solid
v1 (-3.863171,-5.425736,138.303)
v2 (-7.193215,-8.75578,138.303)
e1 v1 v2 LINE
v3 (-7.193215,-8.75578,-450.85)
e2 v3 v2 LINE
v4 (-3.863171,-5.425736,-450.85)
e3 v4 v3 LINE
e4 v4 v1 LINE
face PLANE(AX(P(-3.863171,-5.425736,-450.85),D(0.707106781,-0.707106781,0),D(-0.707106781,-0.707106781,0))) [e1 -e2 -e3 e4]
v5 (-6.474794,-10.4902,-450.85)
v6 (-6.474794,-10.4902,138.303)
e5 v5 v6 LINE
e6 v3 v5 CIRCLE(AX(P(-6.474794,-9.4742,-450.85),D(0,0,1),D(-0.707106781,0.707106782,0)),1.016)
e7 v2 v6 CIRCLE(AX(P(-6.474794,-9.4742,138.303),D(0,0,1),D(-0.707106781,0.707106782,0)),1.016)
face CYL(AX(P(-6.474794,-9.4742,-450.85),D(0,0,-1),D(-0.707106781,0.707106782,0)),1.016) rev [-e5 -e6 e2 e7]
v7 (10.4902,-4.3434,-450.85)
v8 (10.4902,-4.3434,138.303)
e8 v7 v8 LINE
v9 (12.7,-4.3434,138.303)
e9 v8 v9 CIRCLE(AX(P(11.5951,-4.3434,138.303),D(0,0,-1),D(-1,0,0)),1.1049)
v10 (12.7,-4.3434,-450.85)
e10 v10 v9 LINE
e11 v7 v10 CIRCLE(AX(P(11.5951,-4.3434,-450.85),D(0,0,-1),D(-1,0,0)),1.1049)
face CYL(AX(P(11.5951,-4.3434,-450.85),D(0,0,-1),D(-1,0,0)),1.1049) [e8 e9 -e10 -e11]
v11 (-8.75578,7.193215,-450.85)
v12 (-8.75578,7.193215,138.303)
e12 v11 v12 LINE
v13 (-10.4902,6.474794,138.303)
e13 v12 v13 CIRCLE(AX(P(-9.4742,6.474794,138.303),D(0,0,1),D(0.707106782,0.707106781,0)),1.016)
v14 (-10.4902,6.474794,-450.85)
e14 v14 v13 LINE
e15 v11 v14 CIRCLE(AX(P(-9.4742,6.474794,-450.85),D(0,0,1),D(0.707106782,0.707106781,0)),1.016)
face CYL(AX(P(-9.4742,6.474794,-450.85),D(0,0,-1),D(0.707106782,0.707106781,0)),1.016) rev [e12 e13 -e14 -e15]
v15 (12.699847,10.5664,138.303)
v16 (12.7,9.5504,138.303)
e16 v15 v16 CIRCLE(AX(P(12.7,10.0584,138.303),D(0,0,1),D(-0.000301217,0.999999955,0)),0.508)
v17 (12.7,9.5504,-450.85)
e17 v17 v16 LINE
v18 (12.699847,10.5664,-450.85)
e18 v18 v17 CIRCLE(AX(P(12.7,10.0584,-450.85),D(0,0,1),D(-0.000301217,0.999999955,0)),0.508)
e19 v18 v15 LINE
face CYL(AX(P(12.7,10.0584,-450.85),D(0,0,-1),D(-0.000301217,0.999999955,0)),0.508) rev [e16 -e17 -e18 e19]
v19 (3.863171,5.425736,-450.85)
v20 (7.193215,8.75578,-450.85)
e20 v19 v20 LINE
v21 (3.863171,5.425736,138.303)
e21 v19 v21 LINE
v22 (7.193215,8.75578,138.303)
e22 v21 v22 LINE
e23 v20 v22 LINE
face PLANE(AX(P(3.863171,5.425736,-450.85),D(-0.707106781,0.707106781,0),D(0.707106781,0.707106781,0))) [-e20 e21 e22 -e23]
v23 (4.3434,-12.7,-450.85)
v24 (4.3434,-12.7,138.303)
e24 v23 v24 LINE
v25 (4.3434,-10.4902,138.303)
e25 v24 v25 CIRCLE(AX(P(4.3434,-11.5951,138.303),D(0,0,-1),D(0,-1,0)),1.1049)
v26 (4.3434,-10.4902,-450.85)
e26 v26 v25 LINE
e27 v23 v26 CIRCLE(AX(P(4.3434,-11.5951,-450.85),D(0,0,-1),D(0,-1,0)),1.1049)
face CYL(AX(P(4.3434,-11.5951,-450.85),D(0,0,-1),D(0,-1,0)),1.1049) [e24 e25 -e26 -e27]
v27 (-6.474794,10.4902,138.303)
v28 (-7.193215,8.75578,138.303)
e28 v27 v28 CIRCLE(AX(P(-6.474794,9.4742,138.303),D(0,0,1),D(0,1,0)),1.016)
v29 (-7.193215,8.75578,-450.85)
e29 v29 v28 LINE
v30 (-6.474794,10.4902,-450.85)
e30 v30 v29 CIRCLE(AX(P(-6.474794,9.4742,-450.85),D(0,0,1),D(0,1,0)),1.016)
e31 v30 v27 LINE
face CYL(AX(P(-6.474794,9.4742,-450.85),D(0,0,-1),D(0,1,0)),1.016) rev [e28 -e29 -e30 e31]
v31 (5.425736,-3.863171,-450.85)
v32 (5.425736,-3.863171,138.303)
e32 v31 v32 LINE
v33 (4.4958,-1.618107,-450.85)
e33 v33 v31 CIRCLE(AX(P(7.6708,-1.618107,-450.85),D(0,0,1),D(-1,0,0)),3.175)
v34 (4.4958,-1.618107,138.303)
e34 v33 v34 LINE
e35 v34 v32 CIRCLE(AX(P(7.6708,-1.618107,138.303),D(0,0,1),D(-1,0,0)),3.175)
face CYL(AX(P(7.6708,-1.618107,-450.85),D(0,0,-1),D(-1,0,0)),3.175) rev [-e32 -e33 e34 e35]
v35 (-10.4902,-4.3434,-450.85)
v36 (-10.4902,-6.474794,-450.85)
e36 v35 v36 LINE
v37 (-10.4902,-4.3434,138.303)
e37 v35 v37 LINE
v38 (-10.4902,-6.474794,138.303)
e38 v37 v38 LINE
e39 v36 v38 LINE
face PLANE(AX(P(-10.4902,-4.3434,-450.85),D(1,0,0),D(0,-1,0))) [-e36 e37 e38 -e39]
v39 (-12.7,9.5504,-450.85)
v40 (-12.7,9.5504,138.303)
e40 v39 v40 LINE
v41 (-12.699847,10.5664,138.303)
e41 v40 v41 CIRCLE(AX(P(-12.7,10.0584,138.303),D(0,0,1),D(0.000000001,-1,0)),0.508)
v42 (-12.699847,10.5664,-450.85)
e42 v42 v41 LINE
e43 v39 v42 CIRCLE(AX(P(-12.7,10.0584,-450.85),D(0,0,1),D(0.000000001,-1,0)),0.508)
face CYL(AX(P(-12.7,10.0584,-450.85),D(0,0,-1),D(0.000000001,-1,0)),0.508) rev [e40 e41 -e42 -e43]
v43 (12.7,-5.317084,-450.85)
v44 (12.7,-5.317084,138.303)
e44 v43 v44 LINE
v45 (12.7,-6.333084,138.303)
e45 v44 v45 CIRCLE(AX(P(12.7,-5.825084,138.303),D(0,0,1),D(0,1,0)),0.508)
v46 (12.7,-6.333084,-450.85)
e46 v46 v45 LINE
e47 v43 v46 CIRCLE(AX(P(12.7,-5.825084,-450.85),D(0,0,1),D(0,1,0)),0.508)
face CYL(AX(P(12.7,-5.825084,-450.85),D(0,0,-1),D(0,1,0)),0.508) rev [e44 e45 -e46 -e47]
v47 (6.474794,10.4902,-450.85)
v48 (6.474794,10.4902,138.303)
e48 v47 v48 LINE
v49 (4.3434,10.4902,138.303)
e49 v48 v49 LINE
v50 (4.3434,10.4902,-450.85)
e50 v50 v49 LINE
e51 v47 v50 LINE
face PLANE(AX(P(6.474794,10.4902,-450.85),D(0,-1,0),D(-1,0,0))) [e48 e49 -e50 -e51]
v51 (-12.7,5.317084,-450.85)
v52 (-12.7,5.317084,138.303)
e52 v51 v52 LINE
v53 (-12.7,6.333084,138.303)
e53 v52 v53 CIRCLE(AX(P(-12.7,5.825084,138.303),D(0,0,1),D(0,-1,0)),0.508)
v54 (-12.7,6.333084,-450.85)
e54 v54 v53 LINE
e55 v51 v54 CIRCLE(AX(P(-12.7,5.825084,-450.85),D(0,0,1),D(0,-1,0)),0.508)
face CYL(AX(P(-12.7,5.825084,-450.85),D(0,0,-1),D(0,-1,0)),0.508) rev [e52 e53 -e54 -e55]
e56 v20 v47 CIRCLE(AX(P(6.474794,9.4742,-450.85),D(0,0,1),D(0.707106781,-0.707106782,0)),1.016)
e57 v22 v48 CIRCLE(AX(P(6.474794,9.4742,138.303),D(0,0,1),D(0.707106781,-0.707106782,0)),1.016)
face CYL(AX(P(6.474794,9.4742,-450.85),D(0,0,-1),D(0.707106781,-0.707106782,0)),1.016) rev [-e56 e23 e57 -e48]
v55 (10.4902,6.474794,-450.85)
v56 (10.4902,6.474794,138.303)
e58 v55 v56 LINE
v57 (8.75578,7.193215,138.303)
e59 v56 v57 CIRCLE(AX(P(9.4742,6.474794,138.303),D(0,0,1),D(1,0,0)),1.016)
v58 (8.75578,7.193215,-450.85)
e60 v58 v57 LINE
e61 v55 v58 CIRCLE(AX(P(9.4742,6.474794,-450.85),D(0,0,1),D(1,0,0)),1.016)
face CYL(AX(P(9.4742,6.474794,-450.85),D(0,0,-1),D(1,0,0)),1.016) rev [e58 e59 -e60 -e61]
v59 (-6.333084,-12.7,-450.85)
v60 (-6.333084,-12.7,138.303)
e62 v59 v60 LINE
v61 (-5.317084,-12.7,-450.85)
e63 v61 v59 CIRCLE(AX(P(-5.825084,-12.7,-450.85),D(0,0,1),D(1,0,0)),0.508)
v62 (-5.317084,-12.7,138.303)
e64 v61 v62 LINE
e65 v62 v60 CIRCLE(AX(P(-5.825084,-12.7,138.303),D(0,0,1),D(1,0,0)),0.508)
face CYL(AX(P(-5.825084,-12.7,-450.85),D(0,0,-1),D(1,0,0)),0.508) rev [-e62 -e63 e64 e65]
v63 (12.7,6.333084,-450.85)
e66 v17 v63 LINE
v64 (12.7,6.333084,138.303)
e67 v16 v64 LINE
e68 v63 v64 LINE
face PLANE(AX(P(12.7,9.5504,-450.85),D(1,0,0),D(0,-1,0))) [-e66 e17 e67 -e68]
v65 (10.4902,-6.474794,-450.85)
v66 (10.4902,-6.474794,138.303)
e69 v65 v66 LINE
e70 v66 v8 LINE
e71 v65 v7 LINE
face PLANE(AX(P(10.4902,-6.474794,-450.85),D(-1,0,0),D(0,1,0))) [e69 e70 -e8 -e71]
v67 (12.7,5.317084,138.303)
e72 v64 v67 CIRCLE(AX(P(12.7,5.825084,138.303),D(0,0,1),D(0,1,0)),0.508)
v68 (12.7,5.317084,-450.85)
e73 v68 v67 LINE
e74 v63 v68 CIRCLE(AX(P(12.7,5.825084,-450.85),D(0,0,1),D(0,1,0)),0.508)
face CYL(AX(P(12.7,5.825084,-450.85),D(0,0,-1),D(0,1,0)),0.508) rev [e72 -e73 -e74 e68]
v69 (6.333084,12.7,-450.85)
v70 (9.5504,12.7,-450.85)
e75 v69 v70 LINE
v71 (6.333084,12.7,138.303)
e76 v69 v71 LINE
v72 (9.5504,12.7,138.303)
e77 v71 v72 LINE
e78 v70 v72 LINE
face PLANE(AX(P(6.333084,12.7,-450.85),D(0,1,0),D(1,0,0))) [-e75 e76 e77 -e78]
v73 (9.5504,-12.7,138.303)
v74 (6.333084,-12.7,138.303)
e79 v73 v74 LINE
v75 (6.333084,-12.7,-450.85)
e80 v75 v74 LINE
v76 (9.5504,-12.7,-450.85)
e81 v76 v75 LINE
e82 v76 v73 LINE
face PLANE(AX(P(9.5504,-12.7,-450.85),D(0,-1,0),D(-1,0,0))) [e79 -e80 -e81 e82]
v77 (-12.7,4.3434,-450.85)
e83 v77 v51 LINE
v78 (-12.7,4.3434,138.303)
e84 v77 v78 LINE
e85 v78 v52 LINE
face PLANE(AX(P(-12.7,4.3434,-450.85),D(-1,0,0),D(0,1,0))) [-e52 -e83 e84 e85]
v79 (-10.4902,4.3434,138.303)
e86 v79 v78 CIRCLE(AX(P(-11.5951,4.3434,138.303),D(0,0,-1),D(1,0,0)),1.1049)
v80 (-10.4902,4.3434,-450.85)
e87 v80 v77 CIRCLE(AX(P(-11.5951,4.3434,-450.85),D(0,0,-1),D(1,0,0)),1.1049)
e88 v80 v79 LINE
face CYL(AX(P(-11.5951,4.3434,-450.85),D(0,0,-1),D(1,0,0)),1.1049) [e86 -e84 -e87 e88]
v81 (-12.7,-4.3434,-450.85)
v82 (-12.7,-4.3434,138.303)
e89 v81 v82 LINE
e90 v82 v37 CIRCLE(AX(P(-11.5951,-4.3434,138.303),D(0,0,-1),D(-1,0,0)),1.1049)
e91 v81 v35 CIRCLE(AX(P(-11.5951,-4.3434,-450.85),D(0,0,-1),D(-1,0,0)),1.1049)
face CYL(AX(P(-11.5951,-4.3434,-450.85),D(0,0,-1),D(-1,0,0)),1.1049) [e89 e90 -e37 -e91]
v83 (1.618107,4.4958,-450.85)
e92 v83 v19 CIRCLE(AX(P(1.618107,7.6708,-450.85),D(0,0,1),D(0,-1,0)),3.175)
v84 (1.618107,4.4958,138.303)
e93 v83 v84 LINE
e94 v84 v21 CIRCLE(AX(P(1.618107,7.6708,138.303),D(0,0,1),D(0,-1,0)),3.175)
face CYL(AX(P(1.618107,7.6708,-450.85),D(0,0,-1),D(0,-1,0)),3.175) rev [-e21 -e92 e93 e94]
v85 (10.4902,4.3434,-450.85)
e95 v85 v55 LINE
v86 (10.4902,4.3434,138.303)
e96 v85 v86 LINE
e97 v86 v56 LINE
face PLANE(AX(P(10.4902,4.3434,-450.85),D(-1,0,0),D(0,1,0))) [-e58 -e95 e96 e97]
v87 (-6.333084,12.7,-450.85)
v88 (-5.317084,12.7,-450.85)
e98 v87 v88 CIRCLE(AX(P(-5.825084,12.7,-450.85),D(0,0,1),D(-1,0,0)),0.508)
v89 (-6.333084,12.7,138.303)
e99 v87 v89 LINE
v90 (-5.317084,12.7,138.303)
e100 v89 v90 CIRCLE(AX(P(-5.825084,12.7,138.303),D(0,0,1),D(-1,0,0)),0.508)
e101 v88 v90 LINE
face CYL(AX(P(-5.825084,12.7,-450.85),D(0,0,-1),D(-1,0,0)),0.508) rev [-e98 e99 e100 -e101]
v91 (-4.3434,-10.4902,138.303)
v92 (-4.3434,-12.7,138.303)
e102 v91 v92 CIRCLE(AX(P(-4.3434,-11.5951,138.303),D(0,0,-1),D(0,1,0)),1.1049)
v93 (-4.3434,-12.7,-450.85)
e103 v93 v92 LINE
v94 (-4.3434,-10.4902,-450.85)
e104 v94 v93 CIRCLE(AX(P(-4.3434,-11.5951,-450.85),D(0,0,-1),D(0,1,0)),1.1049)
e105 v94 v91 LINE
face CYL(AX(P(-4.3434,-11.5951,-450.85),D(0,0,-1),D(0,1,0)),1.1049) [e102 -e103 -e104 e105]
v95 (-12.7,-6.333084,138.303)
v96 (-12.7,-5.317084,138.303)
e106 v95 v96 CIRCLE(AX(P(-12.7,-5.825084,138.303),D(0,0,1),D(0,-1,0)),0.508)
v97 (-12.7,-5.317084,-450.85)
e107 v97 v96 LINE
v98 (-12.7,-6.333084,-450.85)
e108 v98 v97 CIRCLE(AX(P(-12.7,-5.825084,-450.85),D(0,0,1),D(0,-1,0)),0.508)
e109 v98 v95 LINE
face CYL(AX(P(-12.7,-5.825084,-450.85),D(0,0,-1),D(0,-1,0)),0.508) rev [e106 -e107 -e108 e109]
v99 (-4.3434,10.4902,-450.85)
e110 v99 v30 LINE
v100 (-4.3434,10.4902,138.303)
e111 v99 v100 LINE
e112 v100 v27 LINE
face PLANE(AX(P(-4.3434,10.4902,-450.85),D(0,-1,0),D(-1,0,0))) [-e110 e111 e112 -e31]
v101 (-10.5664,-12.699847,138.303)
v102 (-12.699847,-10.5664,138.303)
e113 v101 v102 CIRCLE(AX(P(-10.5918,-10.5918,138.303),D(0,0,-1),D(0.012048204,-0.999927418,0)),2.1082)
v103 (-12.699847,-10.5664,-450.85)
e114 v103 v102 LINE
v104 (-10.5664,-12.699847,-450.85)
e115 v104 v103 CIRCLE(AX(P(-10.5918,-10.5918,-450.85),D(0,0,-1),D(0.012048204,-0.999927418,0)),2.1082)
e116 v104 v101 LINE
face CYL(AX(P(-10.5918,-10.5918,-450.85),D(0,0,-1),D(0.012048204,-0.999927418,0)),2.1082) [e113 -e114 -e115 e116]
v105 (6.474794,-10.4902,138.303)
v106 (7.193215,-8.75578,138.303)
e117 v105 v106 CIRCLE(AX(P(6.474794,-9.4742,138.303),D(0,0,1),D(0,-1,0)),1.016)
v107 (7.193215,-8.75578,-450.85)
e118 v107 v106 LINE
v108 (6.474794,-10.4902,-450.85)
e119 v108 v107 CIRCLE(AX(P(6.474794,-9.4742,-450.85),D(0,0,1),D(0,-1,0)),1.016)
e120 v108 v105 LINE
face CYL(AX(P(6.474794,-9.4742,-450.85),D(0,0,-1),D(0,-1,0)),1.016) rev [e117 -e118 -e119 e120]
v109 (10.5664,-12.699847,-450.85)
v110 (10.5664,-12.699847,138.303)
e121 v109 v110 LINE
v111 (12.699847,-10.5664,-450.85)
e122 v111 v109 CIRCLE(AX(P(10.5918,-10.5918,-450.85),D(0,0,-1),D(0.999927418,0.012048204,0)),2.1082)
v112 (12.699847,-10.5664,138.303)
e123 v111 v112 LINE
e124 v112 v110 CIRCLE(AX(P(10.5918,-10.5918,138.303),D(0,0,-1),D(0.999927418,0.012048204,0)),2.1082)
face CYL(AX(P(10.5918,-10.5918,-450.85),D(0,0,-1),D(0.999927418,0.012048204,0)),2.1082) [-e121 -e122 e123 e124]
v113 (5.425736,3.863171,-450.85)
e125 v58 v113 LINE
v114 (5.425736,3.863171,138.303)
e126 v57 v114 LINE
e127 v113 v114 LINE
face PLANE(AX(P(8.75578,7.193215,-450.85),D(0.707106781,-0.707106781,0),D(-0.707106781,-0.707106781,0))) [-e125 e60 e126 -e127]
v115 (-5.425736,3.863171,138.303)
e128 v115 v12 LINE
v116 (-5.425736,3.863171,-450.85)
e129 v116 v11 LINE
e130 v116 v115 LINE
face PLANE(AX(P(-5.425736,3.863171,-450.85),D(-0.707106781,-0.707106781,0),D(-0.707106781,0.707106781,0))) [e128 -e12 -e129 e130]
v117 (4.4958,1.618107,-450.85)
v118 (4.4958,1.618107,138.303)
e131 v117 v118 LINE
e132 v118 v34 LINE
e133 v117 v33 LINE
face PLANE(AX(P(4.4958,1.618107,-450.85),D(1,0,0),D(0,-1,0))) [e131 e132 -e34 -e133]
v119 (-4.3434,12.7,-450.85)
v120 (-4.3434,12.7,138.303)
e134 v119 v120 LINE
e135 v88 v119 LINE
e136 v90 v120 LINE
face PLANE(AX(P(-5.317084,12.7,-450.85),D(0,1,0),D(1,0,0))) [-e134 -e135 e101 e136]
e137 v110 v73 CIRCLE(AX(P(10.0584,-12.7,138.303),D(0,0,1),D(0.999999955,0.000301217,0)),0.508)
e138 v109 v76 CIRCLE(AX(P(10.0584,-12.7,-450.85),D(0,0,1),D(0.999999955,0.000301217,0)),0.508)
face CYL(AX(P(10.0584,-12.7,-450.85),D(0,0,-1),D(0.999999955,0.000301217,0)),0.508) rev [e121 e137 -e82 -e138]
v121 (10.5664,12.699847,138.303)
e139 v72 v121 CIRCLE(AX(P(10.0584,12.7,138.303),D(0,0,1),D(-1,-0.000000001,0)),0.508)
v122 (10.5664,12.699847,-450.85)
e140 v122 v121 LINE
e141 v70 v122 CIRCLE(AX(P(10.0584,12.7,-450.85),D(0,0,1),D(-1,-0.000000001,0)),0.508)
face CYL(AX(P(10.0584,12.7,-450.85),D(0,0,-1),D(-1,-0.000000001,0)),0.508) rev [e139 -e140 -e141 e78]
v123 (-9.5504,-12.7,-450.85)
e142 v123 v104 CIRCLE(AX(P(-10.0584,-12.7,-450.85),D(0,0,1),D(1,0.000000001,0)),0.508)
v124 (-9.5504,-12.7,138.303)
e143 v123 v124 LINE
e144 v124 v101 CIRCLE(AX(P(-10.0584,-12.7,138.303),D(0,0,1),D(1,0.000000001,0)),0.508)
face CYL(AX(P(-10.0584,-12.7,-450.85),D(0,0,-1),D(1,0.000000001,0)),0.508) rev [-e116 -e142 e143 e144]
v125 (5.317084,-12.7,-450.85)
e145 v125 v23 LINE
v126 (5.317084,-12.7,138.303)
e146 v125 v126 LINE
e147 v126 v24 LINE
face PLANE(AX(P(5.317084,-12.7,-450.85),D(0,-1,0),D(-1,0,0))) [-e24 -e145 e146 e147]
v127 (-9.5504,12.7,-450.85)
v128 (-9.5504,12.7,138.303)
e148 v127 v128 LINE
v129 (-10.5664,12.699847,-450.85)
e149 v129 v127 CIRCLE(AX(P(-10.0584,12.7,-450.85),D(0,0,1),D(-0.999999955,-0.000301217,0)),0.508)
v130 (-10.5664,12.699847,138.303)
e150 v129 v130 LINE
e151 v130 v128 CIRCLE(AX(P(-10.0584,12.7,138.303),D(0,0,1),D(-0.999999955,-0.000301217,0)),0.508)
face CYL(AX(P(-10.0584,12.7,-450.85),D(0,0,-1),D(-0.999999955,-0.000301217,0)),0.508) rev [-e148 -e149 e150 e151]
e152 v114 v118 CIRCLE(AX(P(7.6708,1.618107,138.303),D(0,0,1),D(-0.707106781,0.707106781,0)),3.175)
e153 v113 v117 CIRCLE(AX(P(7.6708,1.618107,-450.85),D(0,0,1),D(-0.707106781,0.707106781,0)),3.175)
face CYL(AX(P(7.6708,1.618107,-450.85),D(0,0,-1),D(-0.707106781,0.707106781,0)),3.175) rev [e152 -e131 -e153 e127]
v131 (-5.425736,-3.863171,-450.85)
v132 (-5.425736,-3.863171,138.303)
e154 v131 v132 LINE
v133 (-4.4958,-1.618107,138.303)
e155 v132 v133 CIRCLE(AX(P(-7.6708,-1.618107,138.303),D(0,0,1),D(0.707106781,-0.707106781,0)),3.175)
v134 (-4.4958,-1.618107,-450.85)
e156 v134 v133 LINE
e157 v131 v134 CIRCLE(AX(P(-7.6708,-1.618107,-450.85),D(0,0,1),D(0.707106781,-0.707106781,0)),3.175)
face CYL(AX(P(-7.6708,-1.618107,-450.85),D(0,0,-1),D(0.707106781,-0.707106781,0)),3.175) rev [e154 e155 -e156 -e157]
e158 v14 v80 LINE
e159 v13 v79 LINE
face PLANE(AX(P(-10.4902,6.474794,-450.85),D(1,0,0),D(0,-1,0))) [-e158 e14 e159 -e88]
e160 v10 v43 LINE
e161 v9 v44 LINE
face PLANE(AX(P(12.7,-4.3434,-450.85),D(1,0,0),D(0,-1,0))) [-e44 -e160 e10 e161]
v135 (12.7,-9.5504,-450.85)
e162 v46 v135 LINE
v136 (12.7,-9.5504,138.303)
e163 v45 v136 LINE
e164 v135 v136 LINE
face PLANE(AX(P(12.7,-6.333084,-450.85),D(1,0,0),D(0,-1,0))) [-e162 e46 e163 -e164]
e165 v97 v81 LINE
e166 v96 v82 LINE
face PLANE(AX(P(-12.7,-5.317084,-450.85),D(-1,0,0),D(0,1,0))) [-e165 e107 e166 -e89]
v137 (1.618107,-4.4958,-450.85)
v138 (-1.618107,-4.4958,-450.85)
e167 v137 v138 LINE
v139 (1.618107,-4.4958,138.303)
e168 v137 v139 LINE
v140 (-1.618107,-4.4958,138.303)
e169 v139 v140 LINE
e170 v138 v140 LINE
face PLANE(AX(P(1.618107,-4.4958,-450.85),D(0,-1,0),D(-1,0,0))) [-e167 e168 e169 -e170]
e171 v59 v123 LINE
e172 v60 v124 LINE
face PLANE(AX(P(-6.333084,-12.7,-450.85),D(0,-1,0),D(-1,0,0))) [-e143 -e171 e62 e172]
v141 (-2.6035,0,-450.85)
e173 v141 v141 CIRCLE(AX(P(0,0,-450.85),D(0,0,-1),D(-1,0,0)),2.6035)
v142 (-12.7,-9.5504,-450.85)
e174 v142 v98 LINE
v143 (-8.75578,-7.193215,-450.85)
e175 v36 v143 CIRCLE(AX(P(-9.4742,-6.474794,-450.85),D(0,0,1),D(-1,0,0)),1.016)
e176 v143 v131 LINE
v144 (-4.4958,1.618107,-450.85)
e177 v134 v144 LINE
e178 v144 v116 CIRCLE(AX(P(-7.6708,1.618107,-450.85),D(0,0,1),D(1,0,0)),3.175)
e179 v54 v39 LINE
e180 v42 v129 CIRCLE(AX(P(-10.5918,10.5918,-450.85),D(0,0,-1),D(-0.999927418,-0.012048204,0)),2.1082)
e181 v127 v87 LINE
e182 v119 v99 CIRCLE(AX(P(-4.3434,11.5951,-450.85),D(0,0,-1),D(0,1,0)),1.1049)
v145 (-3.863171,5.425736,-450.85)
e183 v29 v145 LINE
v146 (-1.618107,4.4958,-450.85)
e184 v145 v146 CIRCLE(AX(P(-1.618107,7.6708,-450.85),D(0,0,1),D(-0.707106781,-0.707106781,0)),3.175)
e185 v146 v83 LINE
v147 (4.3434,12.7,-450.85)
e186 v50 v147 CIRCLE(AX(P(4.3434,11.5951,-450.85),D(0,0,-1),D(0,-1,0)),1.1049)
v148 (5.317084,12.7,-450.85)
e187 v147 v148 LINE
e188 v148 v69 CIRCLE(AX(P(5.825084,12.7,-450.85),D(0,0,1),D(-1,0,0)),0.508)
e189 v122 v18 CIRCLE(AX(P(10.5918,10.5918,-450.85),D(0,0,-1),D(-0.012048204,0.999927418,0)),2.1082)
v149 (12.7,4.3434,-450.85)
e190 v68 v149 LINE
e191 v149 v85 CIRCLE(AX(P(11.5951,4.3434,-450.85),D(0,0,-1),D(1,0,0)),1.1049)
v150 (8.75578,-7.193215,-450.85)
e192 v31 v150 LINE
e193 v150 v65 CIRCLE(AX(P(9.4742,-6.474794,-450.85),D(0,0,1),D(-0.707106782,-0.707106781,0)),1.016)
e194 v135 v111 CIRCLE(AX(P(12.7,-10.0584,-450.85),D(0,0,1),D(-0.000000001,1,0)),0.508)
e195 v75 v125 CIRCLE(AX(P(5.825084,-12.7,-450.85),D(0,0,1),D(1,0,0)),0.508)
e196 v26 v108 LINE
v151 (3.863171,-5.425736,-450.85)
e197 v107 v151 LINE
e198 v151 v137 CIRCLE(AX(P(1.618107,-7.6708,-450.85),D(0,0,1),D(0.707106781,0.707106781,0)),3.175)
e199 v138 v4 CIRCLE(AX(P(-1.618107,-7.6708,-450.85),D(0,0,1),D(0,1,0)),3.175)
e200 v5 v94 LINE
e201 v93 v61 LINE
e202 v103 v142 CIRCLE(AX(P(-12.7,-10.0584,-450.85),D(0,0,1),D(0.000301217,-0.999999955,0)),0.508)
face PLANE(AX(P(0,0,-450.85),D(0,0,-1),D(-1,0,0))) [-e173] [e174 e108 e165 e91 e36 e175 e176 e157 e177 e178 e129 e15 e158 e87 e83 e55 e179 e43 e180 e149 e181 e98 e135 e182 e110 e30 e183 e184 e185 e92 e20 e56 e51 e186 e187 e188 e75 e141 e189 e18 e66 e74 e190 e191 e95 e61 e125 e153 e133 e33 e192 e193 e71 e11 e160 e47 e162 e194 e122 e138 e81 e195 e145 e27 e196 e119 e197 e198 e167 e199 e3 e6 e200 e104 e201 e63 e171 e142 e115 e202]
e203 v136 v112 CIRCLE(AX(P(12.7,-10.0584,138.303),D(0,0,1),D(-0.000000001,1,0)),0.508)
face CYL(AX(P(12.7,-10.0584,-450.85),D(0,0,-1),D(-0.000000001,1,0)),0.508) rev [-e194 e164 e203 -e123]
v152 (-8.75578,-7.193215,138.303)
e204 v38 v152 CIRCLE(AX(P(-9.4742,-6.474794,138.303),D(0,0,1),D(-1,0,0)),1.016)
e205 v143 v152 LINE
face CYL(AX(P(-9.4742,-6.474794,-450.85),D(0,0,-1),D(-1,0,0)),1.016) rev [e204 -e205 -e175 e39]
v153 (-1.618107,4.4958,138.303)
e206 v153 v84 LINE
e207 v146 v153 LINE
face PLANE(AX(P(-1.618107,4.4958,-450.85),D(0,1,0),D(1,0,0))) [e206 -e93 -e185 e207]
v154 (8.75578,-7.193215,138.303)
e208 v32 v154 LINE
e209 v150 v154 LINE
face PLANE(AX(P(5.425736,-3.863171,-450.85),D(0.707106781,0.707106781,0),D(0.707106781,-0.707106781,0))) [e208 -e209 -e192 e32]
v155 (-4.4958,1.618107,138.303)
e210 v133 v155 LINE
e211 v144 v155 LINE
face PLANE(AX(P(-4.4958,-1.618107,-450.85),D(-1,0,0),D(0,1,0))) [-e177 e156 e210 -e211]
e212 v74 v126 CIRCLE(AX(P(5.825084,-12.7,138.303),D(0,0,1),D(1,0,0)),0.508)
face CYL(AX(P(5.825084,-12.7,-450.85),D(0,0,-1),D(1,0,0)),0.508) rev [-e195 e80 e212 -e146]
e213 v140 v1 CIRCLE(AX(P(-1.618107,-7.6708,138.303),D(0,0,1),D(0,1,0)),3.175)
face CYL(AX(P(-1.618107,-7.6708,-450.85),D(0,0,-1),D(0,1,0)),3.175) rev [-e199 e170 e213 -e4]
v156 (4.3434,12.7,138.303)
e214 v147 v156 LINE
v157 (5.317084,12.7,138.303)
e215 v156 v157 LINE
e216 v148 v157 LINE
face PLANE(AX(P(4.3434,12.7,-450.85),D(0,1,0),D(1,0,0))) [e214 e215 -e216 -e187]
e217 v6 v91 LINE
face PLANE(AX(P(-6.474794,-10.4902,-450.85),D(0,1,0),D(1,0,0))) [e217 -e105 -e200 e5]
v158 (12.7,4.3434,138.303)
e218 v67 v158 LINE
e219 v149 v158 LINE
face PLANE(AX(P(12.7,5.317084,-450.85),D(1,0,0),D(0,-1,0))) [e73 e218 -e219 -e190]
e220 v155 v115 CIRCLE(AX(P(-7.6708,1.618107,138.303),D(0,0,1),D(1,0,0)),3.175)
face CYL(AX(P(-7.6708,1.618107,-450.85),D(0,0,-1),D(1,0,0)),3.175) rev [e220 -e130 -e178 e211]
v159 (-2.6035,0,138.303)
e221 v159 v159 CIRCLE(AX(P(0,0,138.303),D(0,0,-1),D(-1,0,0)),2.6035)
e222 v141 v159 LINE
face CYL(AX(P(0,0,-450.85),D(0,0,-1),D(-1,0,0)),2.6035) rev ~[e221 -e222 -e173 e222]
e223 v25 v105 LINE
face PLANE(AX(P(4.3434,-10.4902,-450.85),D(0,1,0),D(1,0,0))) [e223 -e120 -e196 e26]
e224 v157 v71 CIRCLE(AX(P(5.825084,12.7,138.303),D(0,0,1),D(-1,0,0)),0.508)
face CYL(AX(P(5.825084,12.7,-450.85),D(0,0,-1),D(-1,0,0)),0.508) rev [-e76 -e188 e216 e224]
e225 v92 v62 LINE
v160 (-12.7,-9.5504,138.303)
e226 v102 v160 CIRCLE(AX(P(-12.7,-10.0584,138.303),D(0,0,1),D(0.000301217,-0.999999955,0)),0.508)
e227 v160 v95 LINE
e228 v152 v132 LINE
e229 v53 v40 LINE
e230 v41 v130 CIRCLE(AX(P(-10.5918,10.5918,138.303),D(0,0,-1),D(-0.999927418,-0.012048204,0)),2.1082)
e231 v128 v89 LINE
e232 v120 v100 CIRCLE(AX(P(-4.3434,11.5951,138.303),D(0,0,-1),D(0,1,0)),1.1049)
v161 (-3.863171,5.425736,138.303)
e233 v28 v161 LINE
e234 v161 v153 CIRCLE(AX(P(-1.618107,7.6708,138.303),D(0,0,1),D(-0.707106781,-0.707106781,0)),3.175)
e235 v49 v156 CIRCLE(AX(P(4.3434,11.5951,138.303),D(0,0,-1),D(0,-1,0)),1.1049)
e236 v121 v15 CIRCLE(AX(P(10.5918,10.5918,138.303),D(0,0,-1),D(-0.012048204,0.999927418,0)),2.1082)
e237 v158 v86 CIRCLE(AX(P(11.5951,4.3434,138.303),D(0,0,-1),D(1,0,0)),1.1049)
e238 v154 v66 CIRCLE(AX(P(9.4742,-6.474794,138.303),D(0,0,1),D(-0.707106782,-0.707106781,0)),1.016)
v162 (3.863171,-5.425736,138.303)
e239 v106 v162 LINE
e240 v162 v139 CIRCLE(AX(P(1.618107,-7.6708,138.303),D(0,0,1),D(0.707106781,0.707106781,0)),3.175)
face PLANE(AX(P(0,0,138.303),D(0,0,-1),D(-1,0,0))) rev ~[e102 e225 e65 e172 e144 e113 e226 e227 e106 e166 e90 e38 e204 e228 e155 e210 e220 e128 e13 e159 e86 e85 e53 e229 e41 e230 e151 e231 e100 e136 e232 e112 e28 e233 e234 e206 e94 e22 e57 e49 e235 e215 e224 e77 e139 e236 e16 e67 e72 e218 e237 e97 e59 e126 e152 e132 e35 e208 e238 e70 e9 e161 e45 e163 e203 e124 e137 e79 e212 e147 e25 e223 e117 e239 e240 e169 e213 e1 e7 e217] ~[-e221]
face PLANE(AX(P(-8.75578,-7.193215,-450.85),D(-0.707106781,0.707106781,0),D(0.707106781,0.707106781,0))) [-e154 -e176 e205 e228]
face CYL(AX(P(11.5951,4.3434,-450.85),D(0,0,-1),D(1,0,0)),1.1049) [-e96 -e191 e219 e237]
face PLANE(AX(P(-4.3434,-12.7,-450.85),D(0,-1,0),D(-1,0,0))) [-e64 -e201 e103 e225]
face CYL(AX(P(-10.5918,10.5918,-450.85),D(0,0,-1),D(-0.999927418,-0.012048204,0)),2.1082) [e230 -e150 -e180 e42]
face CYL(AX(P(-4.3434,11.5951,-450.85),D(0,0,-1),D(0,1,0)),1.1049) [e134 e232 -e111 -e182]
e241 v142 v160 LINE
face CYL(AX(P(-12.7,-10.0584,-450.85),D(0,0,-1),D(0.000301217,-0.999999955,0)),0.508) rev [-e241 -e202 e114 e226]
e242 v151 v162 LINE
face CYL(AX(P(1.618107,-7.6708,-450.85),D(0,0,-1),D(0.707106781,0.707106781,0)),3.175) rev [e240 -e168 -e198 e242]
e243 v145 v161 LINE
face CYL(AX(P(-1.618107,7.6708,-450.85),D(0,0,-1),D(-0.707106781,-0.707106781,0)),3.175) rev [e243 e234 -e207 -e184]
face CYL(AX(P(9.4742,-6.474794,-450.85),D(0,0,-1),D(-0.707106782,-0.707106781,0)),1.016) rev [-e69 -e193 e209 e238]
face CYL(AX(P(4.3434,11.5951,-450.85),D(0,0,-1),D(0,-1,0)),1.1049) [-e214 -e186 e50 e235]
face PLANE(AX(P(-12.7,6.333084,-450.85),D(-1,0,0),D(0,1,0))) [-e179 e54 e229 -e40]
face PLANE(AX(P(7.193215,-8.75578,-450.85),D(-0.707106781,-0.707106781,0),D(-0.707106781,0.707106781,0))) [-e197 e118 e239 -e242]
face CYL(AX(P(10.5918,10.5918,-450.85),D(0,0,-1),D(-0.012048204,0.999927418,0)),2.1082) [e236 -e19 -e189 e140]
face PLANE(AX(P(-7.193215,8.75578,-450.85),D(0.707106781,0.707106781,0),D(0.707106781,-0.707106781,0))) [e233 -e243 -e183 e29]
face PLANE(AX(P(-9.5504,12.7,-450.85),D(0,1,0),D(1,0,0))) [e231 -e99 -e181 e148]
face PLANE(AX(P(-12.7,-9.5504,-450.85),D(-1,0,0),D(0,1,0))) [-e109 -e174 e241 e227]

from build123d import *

# Parameters (mm, degrees)
SKETCH1_R           = 2.6035
BOSS_EXTRUDE1_DEPTH = 589.153


with BuildPart() as part:
    # Sketch1 → Boss-Extrude1 (new body)
    with BuildSketch(Plane(origin=(0, 0, -450.85), x_dir=(-1, 0, 0), z_dir=(0, 0, -1))):
        with BuildLine():
            Line((12.7, -9.5504), (12.7, -6.3330836))
            ThreePointArc((12.7, -6.3330836), (12.192, -5.8250836), (12.7, -5.3170836))
            Line((12.7, -5.3170836), (12.7, -4.3434))
            ThreePointArc((12.7, -4.3434), (11.5951, -3.2385), (10.4902, -4.3434))
            Line((10.4902, -4.3434), (10.4902, -6.474794456))
            ThreePointArc((10.4902, -6.474794456), (9.863006367, -7.413456061), (8.75577951, -7.193214945))
            Line((8.75577951, -7.193214945), (5.42573597, -3.863171405))
            ThreePointArc((5.42573597, -3.863171405), (4.737482484, -2.833127272), (4.4958, -1.618107374))
            Line((4.4958, -1.618107374), (4.4958, 1.618107374))
            ThreePointArc((4.4958, 1.618107374), (4.737482484, 2.833127272), (5.42573597, 3.863171405))
            Line((5.42573597, 3.863171405), (8.75577951, 7.193214945))
            ThreePointArc((8.75577951, 7.193214945), (9.863006367, 7.413456061), (10.4902, 6.474794456))
            Line((10.4902, 6.474794456), (10.4902, 4.343399971))
            ThreePointArc((10.4902, 4.343399971), (11.5951, 3.238499971), (12.7, 4.343399971))
            Line((12.7, 4.343399971), (12.7, 5.3170836))
            ThreePointArc((12.7, 5.3170836), (12.192, 5.8250836), (12.7, 6.3330836))
            Line((12.7, 6.3330836), (12.7, 9.5504))
            ThreePointArc((12.7, 9.5504), (12.192000006, 10.058323491), (12.699846982, 10.566399977))
            ThreePointArc((12.699846982, 10.566399977), (12.082522516, 12.082522516), (10.566399977, 12.699846982))
            ThreePointArc((10.566399977, 12.699846982), (10.058323491, 12.192000006), (9.5504, 12.7))
            Line((9.5504, 12.7), (6.3330836, 12.7))
            ThreePointArc((6.3330836, 12.7), (5.8250836, 12.192), (5.3170836, 12.7))
            Line((5.3170836, 12.7), (4.3434, 12.7))
            ThreePointArc((4.3434, 12.7), (3.2385, 11.5951), (4.3434, 10.4902))
            Line((4.3434, 10.4902), (6.474794456, 10.4902))
            ThreePointArc((6.474794456, 10.4902), (7.413456061, 9.863006367), (7.193214945, 8.75577951))
            Line((7.193214945, 8.75577951), (3.863171405, 5.42573597))
            ThreePointArc((3.863171405, 5.42573597), (2.833127272, 4.737482484), (1.618107374, 4.4958))
            Line((1.618107374, 4.4958), (-1.618107374, 4.4958))
            ThreePointArc((-1.618107374, 4.4958), (-2.833127272, 4.737482484), (-3.863171405, 5.42573597))
            Line((-3.863171405, 5.42573597), (-7.193214945, 8.75577951))
            ThreePointArc((-7.193214945, 8.75577951), (-7.413456061, 9.863006367), (-6.474794456, 10.4902))
            Line((-6.474794456, 10.4902), (-4.343399971, 10.4902))
            ThreePointArc((-4.343399971, 10.4902), (-3.238499971, 11.5951), (-4.343399971, 12.7))
            Line((-4.343399971, 12.7), (-5.3170836, 12.7))
            ThreePointArc((-5.3170836, 12.7), (-5.8250836, 12.192), (-6.3330836, 12.7))
            Line((-6.3330836, 12.7), (-9.5504, 12.7))
            ThreePointArc((-9.5504, 12.7), (-10.058323491, 12.192000006), (-10.566399977, 12.699846982))
            ThreePointArc((-10.566399977, 12.699846982), (-12.082522516, 12.082522516), (-12.699846982, 10.566399977))
            ThreePointArc((-12.699846982, 10.566399977), (-12.192000006, 10.058323491), (-12.7, 9.5504))
            Line((-12.7, 9.5504), (-12.7, 6.3330836))
            ThreePointArc((-12.7, 6.3330836), (-12.192, 5.8250836), (-12.7, 5.3170836))
            Line((-12.7, 5.3170836), (-12.7, 4.3434))
            ThreePointArc((-12.7, 4.3434), (-11.5951, 3.2385), (-10.4902, 4.3434))
            Line((-10.4902, 4.3434), (-10.4902, 6.474794456))
            ThreePointArc((-10.4902, 6.474794456), (-9.863006367, 7.413456061), (-8.75577951, 7.193214945))
            Line((-8.75577951, 7.193214945), (-5.42573597, 3.863171405))
            ThreePointArc((-5.42573597, 3.863171405), (-4.737482484, 2.833127272), (-4.4958, 1.618107374))
            Line((-4.4958, 1.618107374), (-4.4958, -1.618107374))
            ThreePointArc((-4.4958, -1.618107374), (-4.737482484, -2.833127272), (-5.42573597, -3.863171405))
            Line((-5.42573597, -3.863171405), (-8.75577951, -7.193214945))
            ThreePointArc((-8.75577951, -7.193214945), (-9.863006367, -7.413456061), (-10.4902, -6.474794456))
            Line((-10.4902, -6.474794456), (-10.4902, -4.343399971))
            ThreePointArc((-10.4902, -4.343399971), (-11.5951, -3.238499971), (-12.7, -4.343399971))
            Line((-12.7, -4.343399971), (-12.7, -5.3170836))
            ThreePointArc((-12.7, -5.3170836), (-12.192, -5.8250836), (-12.7, -6.3330836))
            Line((-12.7, -6.3330836), (-12.7, -9.5504))
            ThreePointArc((-12.7, -9.5504), (-12.192000006, -10.058323491), (-12.699846982, -10.566399977))
            ThreePointArc((-12.699846982, -10.566399977), (-12.082522516, -12.082522516), (-10.566399977, -12.699846982))
            ThreePointArc((-10.566399977, -12.699846982), (-10.058323491, -12.192000006), (-9.5504, -12.7))
            Line((-9.5504, -12.7), (-6.3330836, -12.7))
            ThreePointArc((-6.3330836, -12.7), (-5.8250836, -12.192), (-5.3170836, -12.7))
            Line((-5.3170836, -12.7), (-4.3434, -12.7))
            ThreePointArc((-4.3434, -12.7), (-3.2385, -11.5951), (-4.3434, -10.4902))
            Line((-4.3434, -10.4902), (-6.474794456, -10.4902))
            ThreePointArc((-6.474794456, -10.4902), (-7.413456061, -9.863006367), (-7.193214945, -8.75577951))
            Line((-7.193214945, -8.75577951), (-3.863171405, -5.42573597))
            ThreePointArc((-3.863171405, -5.42573597), (-2.833127272, -4.737482484), (-1.618107374, -4.4958))
            Line((-1.618107374, -4.4958), (1.618107374, -4.4958))
            ThreePointArc((1.618107374, -4.4958), (2.833127272, -4.737482484), (3.863171405, -5.42573597))
            Line((3.863171405, -5.42573597), (7.193214945, -8.75577951))
            ThreePointArc((7.193214945, -8.75577951), (7.413456061, -9.863006367), (6.474794456, -10.4902))
            Line((6.474794456, -10.4902), (4.343399971, -10.4902))
            ThreePointArc((4.343399971, -10.4902), (3.238499971, -11.5951), (4.343399971, -12.7))
            Line((4.343399971, -12.7), (5.3170836, -12.7))
            ThreePointArc((5.3170836, -12.7), (5.8250836, -12.192), (6.3330836, -12.7))
            Line((6.3330836, -12.7), (9.5504, -12.7))
            ThreePointArc((9.5504, -12.7), (10.058323491, -12.192000006), (10.566399977, -12.699846982))
            ThreePointArc((10.566399977, -12.699846982), (12.082522516, -12.082522516), (12.699846982, -10.566399977))
            ThreePointArc((12.699846982, -10.566399977), (12.192000006, -10.058323491), (12.7, -9.5504))
        make_face()
        Circle(SKETCH1_R, mode=Mode.SUBTRACT)
    extrude(amount=-BOSS_EXTRUDE1_DEPTH)


solid = part.part
